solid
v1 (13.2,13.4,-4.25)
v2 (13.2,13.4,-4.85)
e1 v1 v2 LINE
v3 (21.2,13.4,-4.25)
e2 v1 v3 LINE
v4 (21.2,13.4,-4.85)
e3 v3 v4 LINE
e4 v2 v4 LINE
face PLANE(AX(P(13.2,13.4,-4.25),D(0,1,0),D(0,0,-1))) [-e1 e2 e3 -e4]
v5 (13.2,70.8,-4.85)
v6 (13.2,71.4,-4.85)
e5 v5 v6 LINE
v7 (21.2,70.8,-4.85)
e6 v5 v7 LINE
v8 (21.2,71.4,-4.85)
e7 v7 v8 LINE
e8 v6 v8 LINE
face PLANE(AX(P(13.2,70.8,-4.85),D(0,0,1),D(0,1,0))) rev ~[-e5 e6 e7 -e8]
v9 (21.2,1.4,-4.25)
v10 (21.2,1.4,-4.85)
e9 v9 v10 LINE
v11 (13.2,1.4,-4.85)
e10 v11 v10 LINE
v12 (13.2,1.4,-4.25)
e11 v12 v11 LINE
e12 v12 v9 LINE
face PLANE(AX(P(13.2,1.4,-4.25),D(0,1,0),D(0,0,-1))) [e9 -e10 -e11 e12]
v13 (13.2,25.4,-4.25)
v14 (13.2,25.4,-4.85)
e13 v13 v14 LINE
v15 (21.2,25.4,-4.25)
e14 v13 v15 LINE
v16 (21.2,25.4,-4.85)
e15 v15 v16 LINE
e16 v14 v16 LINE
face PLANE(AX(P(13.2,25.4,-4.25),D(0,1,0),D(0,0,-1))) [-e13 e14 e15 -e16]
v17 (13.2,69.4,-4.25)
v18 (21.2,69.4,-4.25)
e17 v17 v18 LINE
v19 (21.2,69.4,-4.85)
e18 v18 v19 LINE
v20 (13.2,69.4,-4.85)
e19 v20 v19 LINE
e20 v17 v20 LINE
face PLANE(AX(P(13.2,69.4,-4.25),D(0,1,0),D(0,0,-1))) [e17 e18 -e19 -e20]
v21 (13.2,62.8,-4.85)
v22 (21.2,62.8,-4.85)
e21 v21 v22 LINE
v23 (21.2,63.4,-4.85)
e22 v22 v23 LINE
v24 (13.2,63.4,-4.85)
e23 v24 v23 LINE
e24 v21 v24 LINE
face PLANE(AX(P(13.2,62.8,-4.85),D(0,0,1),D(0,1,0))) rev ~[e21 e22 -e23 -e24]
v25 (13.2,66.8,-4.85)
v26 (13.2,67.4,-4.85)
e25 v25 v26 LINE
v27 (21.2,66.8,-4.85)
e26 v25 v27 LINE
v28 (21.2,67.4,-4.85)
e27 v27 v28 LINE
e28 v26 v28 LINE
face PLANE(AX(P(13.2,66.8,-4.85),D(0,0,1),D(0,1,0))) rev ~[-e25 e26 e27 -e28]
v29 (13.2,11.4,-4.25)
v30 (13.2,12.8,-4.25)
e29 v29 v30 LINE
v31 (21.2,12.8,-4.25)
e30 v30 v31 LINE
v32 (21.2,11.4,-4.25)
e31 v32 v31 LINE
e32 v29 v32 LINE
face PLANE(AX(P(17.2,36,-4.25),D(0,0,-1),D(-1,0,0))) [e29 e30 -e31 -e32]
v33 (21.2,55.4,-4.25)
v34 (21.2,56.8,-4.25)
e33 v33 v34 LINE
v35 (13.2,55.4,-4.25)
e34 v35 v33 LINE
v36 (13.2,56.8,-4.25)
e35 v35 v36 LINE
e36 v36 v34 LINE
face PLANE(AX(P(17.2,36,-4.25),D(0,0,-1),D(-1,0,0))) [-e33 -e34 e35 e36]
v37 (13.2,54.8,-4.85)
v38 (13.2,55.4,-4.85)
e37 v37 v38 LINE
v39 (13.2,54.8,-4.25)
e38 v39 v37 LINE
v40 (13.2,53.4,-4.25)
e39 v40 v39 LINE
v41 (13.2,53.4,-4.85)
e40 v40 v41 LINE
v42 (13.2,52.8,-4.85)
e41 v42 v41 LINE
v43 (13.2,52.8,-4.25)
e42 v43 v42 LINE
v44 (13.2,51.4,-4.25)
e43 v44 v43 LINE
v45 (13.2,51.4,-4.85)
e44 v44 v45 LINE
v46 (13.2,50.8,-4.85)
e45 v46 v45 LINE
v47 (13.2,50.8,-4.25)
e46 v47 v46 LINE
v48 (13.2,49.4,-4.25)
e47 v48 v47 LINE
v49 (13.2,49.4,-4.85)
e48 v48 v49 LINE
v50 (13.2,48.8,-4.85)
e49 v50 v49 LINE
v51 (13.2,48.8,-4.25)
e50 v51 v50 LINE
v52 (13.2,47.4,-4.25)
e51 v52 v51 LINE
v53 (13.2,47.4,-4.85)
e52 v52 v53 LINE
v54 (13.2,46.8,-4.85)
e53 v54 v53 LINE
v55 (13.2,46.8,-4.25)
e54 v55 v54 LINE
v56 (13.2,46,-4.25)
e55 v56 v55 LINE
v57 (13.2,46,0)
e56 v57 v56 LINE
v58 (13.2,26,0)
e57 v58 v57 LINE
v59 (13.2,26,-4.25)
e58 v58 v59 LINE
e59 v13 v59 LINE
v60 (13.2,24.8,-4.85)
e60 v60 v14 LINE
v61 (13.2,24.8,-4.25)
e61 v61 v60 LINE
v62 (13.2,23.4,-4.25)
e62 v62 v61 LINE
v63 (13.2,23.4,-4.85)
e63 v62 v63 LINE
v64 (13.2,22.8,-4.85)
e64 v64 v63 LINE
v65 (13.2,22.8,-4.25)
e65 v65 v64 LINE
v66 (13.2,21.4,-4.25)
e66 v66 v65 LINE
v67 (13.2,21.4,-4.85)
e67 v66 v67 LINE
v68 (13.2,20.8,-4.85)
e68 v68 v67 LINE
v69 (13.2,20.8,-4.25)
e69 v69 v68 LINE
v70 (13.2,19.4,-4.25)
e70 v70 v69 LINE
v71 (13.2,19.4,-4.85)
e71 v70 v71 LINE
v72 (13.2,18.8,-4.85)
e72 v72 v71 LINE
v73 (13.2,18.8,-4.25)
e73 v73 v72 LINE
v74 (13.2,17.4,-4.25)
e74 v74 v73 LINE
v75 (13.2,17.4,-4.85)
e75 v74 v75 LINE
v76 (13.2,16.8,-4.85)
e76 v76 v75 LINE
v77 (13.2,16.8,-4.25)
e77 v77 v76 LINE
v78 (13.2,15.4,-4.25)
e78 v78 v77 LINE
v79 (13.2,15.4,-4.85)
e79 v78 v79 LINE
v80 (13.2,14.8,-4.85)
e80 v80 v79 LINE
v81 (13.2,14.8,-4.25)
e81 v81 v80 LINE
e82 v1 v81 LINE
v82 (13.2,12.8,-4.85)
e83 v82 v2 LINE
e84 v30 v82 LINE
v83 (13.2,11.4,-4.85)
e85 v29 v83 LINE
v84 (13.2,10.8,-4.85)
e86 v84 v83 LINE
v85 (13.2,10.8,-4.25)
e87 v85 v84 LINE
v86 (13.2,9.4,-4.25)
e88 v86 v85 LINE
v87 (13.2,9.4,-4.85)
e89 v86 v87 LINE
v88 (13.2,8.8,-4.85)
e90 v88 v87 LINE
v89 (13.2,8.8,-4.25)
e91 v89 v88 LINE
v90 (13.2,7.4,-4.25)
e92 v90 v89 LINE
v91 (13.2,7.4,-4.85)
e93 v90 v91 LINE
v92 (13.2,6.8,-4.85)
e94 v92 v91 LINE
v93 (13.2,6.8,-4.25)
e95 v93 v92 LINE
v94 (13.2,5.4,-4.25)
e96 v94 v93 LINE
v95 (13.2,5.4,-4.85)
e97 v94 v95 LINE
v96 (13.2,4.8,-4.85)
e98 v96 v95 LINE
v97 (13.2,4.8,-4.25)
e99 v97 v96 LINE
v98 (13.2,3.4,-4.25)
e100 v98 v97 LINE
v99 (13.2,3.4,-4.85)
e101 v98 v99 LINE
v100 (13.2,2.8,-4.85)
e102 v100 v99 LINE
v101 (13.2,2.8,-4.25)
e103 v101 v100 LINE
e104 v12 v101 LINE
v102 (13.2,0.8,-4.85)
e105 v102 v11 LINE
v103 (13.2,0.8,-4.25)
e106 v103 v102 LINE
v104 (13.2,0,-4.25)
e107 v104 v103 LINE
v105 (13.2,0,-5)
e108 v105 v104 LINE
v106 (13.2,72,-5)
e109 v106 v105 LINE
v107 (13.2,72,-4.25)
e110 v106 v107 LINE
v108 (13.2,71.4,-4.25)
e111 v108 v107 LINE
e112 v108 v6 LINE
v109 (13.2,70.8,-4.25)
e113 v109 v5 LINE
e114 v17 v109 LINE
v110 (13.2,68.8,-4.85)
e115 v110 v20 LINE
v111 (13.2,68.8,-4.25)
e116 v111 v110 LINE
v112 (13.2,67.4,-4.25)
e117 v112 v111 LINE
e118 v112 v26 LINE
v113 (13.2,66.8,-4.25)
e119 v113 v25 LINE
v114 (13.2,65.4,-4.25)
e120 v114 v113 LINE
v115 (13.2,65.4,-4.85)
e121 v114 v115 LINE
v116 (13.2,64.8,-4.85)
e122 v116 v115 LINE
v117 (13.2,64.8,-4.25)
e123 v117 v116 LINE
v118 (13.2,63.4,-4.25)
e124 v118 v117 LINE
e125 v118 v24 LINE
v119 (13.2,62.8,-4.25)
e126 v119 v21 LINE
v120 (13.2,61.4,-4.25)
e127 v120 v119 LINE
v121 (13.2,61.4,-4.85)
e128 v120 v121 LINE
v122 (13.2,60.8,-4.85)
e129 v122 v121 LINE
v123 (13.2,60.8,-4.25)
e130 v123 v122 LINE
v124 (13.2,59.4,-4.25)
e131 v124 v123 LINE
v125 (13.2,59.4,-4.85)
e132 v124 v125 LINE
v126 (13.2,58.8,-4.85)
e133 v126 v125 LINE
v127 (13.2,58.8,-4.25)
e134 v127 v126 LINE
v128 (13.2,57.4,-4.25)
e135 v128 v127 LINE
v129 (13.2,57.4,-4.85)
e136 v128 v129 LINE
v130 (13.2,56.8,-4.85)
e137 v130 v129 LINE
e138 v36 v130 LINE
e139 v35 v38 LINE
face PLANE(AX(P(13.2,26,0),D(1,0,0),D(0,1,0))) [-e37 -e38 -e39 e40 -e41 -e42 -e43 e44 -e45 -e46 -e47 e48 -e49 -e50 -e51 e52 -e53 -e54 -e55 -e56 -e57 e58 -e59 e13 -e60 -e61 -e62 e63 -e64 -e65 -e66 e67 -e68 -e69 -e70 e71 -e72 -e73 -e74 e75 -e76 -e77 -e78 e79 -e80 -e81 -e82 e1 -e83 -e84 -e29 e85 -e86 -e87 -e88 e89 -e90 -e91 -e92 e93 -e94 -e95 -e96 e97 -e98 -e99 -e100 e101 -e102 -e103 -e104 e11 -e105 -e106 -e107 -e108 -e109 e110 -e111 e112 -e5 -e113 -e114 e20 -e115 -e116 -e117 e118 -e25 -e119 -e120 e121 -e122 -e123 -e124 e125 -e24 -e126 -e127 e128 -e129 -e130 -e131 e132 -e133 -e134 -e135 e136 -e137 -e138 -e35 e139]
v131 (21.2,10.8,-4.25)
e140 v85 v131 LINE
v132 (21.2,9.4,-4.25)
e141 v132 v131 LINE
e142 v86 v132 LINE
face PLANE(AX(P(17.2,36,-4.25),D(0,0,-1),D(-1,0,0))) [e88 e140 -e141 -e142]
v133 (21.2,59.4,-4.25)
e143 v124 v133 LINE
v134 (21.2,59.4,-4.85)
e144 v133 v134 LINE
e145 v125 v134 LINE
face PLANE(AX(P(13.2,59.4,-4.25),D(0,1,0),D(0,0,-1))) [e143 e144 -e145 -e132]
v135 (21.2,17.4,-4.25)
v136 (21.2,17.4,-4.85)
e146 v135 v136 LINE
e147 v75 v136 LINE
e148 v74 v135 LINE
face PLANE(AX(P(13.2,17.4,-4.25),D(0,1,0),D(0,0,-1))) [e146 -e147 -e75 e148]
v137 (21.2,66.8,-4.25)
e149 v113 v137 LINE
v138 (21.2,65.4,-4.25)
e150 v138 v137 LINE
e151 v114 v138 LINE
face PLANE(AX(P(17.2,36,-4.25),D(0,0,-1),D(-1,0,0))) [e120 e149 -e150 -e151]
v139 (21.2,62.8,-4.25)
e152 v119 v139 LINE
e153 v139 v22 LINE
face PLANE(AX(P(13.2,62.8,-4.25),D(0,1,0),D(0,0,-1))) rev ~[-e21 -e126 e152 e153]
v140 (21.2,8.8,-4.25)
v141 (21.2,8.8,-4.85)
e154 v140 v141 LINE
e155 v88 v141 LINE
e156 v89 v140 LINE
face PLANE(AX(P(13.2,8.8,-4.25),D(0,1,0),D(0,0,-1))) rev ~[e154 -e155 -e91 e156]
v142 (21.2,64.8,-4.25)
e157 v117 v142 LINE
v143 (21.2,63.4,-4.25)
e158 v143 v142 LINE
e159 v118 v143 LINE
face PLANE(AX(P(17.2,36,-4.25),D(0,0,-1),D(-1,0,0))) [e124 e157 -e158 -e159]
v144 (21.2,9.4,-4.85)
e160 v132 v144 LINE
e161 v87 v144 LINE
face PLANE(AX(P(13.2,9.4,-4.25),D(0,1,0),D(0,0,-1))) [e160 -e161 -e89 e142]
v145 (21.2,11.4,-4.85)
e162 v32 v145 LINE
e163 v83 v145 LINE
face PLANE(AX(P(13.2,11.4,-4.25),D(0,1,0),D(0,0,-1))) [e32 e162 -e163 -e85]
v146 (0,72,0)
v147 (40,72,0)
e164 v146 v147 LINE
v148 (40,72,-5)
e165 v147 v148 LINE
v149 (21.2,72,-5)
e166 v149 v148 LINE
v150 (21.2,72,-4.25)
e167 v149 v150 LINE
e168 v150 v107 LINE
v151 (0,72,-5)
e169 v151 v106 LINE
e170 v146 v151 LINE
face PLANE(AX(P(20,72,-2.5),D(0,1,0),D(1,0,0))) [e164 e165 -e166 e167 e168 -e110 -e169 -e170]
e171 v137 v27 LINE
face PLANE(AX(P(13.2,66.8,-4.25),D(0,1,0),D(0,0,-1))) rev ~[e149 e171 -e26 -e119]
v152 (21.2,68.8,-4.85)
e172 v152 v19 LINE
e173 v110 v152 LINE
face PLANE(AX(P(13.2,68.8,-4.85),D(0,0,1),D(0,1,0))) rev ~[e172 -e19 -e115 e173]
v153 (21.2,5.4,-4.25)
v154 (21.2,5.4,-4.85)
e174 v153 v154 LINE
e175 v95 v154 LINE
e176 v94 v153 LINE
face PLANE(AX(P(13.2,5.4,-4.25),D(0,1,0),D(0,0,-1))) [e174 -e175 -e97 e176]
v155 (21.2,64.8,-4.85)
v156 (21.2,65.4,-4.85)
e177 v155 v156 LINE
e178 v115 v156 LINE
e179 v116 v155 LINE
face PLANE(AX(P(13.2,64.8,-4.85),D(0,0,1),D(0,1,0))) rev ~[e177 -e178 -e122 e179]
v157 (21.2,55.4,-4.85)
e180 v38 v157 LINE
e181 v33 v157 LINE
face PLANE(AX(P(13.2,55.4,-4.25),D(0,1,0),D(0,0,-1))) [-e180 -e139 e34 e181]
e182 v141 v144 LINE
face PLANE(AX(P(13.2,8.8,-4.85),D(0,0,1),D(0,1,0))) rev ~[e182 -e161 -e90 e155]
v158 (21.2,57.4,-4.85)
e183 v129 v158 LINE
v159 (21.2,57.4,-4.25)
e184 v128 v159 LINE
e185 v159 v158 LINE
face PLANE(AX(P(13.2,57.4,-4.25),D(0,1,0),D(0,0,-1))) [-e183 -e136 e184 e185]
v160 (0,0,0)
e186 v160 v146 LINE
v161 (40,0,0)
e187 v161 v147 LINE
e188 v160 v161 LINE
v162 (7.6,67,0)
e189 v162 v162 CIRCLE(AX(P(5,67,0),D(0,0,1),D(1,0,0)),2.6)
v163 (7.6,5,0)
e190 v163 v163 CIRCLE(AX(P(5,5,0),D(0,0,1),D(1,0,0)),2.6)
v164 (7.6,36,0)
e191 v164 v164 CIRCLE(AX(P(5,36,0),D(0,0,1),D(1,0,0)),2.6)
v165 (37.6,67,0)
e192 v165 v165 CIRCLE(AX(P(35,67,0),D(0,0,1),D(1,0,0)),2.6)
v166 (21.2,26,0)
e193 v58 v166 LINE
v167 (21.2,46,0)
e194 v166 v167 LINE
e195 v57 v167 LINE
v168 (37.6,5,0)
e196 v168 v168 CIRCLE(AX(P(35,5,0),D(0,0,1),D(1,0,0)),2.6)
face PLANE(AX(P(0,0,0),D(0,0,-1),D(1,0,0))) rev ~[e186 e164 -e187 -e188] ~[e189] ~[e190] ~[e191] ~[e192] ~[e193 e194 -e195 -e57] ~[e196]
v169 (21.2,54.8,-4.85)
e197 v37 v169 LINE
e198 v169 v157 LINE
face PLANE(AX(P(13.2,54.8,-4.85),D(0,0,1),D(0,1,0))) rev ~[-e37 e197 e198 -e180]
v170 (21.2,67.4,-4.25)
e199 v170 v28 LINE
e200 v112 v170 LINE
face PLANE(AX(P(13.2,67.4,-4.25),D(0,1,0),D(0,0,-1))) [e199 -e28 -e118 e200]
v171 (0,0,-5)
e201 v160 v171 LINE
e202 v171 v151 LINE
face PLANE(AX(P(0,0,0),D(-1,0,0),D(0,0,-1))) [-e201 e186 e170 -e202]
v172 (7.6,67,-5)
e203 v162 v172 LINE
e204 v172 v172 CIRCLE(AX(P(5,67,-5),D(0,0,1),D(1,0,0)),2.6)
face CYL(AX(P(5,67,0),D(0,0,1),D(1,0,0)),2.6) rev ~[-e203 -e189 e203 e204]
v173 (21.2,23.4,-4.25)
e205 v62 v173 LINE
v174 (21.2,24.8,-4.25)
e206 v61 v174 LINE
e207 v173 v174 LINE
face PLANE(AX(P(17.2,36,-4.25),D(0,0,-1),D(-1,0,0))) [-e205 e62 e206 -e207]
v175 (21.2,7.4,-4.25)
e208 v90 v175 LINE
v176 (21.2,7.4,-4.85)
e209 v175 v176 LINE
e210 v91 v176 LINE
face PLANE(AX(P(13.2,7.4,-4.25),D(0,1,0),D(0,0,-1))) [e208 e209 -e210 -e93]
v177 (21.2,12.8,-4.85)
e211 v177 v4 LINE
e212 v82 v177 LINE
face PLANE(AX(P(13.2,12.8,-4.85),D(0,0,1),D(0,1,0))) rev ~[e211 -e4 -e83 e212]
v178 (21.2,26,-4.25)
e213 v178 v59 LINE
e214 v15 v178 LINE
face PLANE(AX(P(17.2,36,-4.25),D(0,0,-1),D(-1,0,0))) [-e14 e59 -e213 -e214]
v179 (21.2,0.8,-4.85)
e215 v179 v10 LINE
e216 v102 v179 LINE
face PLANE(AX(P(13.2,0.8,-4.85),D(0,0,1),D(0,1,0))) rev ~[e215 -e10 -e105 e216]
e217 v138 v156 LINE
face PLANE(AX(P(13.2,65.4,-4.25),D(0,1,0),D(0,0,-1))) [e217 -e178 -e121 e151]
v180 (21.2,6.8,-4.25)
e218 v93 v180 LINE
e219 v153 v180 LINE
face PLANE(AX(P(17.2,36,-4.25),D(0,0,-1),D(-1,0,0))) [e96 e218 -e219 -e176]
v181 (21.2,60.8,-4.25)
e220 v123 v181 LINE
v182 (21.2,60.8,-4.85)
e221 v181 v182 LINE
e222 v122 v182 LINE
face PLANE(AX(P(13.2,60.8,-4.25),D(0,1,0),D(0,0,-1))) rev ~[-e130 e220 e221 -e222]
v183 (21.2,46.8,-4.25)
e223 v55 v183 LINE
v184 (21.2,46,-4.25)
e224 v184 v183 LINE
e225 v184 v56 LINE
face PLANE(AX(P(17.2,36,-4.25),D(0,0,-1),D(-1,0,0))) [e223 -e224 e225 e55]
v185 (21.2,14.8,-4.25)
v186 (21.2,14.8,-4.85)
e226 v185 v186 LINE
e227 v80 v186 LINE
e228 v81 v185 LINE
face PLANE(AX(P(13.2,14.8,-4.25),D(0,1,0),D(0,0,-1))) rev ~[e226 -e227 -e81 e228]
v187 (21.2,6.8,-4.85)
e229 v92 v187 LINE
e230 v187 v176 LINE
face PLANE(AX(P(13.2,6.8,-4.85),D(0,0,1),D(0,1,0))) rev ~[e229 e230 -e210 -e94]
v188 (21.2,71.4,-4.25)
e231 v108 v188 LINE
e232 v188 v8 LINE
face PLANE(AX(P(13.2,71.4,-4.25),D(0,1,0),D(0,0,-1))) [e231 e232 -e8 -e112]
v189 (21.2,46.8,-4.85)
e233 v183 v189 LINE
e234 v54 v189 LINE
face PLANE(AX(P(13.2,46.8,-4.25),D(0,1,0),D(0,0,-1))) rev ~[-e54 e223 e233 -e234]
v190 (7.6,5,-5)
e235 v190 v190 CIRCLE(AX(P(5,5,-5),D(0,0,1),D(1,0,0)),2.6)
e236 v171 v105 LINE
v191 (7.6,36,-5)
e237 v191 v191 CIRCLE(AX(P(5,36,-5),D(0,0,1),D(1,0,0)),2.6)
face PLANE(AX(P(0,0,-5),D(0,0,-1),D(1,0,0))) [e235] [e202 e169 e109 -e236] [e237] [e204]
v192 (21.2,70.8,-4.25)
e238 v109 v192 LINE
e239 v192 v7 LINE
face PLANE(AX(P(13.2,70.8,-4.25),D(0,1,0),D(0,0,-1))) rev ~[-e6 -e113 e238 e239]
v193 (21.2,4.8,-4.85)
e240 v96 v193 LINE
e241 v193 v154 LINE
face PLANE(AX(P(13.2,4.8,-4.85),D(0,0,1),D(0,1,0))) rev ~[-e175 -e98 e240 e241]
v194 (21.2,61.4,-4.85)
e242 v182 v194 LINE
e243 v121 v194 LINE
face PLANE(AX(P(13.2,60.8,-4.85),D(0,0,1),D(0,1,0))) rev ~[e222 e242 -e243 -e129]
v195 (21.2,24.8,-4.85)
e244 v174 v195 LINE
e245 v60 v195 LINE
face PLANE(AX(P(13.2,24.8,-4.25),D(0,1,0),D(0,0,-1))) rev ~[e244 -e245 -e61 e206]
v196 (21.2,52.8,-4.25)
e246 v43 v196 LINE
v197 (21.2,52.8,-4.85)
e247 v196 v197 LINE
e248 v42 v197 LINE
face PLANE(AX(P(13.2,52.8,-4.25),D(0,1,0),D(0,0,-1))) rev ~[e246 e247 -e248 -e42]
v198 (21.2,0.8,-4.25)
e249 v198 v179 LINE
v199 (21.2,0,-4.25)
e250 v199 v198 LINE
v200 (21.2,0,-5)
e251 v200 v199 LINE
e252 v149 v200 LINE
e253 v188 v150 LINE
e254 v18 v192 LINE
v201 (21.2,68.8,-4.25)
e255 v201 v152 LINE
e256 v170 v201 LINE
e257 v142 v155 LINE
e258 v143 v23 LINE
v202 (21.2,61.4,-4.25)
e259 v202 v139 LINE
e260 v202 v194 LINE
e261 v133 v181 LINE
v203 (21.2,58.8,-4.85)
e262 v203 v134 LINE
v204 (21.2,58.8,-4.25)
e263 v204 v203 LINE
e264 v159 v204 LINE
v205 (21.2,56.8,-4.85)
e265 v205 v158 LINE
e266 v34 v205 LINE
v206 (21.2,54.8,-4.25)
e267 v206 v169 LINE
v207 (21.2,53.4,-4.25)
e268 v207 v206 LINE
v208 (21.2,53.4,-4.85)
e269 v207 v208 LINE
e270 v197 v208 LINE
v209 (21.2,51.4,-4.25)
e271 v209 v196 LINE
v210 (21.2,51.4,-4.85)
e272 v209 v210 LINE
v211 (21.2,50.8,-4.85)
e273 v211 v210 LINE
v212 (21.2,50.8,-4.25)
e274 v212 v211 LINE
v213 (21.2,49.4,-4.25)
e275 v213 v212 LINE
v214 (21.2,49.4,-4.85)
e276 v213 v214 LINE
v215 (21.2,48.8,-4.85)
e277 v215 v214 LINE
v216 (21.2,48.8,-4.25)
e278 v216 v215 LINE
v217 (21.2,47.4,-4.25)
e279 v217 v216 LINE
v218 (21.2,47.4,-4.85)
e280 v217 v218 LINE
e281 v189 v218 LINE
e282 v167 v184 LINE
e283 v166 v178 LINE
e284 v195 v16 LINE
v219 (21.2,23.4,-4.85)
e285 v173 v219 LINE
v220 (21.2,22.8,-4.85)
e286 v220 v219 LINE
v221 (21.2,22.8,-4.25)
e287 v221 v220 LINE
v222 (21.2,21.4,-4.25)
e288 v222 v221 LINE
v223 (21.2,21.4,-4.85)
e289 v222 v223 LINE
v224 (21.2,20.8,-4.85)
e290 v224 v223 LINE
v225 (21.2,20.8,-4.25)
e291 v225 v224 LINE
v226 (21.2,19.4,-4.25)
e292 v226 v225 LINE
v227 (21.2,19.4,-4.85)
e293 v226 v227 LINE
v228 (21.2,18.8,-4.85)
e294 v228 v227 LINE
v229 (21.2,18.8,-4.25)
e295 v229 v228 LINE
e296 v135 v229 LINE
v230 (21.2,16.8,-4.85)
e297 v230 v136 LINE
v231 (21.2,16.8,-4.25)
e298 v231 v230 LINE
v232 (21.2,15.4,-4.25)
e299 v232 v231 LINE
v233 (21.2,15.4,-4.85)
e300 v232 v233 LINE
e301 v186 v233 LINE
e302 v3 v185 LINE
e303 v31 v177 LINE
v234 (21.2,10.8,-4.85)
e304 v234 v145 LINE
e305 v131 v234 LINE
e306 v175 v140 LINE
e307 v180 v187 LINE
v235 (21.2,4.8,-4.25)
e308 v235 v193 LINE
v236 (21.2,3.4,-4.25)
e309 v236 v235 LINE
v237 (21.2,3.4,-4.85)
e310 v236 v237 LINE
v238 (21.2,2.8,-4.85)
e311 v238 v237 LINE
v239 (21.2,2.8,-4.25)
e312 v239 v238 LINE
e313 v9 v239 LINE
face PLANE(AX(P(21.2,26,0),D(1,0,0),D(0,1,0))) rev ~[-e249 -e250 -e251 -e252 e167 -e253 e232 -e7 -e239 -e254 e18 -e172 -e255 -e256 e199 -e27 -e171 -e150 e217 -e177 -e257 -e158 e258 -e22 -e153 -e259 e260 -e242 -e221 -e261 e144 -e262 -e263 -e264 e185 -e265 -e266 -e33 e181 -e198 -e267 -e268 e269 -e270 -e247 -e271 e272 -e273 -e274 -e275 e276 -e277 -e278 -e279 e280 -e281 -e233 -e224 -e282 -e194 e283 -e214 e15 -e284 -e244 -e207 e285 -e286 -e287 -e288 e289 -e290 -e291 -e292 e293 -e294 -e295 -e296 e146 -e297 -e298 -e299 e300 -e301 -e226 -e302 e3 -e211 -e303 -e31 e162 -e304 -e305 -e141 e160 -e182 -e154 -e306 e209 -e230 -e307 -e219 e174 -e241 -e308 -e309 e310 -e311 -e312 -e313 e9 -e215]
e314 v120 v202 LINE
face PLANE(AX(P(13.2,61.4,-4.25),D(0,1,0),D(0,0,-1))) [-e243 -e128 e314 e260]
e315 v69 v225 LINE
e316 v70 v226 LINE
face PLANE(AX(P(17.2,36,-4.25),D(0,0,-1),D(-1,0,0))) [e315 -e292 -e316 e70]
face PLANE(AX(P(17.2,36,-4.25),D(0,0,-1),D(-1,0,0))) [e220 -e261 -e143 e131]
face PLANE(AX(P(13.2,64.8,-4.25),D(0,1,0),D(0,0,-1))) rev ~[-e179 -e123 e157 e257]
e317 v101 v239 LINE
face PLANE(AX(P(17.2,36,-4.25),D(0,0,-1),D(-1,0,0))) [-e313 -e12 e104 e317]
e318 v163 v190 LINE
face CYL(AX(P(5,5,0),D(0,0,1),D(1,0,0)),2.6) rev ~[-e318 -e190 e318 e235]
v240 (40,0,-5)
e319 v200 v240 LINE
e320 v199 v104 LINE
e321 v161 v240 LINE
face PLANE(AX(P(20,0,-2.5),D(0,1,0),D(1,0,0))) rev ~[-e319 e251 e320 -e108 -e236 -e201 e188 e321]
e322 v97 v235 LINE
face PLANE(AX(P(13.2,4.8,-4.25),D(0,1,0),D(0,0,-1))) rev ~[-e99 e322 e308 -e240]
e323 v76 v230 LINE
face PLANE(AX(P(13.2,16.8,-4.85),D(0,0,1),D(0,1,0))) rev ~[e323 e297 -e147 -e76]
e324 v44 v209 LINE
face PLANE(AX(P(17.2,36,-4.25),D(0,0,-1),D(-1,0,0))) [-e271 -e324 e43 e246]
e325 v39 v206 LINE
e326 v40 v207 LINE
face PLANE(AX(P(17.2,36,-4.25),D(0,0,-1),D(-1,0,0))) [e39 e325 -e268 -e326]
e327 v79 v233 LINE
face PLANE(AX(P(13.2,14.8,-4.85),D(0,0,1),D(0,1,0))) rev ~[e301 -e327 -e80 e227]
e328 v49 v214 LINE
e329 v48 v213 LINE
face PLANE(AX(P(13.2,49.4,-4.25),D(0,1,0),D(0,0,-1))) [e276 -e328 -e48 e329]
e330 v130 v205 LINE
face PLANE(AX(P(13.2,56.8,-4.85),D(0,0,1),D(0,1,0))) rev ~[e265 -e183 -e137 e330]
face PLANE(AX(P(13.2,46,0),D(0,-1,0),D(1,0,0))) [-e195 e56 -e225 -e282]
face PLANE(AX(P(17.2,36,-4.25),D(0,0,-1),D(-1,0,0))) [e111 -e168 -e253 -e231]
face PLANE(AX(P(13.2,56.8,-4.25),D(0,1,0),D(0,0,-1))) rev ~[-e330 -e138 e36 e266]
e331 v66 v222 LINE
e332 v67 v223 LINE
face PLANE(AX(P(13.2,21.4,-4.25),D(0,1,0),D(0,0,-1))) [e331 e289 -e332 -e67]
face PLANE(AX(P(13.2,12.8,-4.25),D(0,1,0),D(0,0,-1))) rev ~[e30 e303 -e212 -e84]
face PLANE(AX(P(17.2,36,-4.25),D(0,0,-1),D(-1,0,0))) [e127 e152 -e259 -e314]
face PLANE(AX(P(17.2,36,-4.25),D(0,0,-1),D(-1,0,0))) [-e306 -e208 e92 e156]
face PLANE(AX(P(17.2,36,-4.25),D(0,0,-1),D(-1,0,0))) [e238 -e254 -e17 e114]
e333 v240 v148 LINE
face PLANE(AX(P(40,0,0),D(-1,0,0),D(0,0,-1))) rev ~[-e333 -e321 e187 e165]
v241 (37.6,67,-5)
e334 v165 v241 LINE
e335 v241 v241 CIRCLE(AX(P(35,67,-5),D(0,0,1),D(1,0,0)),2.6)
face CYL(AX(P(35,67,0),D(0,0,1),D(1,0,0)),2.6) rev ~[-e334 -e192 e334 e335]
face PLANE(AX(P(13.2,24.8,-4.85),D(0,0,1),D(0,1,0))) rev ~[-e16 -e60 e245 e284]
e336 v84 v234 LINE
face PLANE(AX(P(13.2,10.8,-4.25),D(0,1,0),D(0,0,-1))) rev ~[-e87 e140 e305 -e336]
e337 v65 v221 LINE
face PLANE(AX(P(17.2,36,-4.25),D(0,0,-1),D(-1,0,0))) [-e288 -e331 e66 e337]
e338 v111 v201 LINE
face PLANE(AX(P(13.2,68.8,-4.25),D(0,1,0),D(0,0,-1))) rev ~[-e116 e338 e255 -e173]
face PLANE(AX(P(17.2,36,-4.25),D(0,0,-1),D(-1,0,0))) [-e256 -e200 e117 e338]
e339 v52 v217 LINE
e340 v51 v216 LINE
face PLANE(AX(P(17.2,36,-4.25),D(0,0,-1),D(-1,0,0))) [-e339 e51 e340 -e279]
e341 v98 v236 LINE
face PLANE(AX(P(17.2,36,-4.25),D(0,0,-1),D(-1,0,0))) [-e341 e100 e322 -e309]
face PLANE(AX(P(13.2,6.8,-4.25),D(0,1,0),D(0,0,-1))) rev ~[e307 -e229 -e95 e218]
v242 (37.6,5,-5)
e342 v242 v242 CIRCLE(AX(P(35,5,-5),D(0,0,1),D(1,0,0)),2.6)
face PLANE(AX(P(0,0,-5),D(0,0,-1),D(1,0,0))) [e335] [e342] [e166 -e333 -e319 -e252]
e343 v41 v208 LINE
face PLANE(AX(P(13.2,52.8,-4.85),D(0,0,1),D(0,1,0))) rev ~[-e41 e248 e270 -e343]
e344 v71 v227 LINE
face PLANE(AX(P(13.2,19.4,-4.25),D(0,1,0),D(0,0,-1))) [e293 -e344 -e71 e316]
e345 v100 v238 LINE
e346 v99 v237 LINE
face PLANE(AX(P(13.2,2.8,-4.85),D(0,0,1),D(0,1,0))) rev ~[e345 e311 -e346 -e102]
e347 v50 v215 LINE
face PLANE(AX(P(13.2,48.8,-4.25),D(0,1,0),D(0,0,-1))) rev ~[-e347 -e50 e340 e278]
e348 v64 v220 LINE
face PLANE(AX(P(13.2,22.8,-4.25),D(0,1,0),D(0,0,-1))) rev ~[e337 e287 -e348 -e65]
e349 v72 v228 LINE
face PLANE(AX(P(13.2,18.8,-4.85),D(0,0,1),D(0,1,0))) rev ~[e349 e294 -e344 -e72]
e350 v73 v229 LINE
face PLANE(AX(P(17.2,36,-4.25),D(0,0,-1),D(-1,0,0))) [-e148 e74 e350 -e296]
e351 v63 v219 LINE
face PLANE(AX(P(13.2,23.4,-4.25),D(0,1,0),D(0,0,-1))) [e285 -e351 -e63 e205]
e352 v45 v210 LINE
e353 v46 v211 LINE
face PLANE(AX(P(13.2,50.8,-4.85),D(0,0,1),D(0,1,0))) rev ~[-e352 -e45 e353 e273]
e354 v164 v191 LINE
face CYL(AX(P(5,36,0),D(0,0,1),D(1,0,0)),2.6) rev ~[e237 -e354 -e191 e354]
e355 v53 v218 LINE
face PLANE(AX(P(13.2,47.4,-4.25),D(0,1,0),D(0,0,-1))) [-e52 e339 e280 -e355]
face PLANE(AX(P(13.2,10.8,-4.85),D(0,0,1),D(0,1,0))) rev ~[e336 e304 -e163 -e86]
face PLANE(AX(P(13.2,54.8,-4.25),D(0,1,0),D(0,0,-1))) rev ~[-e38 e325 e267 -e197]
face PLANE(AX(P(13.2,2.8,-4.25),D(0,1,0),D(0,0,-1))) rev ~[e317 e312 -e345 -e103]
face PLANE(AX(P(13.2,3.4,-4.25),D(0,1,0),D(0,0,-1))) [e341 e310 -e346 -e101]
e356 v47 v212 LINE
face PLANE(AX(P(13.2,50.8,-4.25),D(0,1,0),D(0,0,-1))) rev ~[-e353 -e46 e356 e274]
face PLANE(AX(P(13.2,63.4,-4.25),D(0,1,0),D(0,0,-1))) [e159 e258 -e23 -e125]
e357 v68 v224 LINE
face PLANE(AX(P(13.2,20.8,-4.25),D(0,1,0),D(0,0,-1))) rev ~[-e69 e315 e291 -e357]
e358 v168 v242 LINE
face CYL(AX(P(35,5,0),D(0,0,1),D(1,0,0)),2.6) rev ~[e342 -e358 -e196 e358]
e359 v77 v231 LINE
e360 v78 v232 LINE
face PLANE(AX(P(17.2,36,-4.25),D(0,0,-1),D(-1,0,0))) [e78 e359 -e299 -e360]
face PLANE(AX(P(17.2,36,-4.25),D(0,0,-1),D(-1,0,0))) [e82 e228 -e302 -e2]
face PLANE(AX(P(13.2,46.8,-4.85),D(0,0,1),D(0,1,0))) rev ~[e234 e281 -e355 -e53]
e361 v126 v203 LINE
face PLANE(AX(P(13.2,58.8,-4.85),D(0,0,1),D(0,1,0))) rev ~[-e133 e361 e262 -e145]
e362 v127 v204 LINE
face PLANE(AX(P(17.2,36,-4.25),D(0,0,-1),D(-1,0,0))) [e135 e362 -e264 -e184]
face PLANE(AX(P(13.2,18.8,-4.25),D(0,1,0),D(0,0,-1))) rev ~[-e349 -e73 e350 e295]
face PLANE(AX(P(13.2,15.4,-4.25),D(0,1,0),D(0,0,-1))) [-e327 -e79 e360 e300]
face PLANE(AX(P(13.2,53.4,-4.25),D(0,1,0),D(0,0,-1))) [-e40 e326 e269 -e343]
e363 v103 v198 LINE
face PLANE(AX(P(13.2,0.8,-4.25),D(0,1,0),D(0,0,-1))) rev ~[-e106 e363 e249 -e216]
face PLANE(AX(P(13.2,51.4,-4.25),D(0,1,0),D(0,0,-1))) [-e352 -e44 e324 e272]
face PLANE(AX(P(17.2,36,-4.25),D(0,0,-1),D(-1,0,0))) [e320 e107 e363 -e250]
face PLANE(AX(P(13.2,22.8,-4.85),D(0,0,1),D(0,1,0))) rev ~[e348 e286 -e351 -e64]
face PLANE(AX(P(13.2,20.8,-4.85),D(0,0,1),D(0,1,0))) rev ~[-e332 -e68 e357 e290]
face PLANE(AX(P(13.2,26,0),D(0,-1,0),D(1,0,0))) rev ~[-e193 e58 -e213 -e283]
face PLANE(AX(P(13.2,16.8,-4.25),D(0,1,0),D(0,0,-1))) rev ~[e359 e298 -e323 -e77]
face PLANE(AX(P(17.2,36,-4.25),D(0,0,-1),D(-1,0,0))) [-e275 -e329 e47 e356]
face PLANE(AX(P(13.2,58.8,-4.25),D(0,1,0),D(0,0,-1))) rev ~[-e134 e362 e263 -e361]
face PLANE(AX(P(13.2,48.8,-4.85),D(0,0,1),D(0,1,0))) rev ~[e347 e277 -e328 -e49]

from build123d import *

# Parameters (mm, degrees)
SKETCH1_W           = 40
SKETCH1_H           = 5
BOSS_EXTRUDE1_DEPTH = 72
SKETCH2_W           = 8
SKETCH2_H           = 72
CUT_EXTRUDE1_DEPTH  = 0.75
SKETCH3_W           = 0.6
SKETCH3_H           = 0.6
BOSS_EXTRUDE2_DEPTH = 8
SKETCH4_R           = 2.6
CUT_EXTRUDE2_DEPTH  = 83.516664984
SKETCH5_W           = 8
SKETCH5_H           = 20
CUT_EXTRUDE3_DEPTH  = 83.516664984


with BuildPart() as part:
    # Sketch1 → Boss-Extrude1 (new body)
    with BuildSketch(Plane(origin=(0, 0, 0), x_dir=(1, 0, 0), z_dir=(0, 1, 0))):
        with Locations((20, 2.5)):
            Rectangle(SKETCH1_W, SKETCH1_H)
    extrude(amount=BOSS_EXTRUDE1_DEPTH)

    # Sketch2 → Cut-Extrude1 (cut)
    with BuildSketch(Plane(origin=(0, 0, -5), x_dir=(-1, 0, 0), z_dir=(0, 0, -1))):
        with Locations((-17.2, 36)):
            Rectangle(SKETCH2_W, SKETCH2_H)
    extrude(amount=-CUT_EXTRUDE1_DEPTH, mode=Mode.SUBTRACT)

    # Sketch3 → Boss-Extrude2 (add)
    with BuildSketch(Plane(origin=(13.2, 0, 0), x_dir=(0, 0, -1), z_dir=(1, 0, 0))):
        with Locations((4.55, 71.1)):
            Rectangle(SKETCH3_W, SKETCH3_H)
        with Locations((4.55, 69.1)):
            Rectangle(SKETCH3_W, SKETCH3_H)
        with Locations((4.55, 67.1)):
            Rectangle(SKETCH3_W, SKETCH3_H)
        with Locations((4.55, 65.1)):
            Rectangle(SKETCH3_W, SKETCH3_H)
        with Locations((4.55, 63.1)):
            Rectangle(SKETCH3_W, SKETCH3_H)
        with Locations((4.55, 61.1)):
            Rectangle(SKETCH3_W, SKETCH3_H)
        with Locations((4.55, 59.1)):
            Rectangle(SKETCH3_W, SKETCH3_H)
        with Locations((4.55, 57.1)):
            Rectangle(SKETCH3_W, SKETCH3_H)
        with Locations((4.55, 55.1)):
            Rectangle(SKETCH3_W, SKETCH3_H)
        with Locations((4.55, 53.1)):
            Rectangle(SKETCH3_W, SKETCH3_H)
        with Locations((4.55, 51.1)):
            Rectangle(SKETCH3_W, SKETCH3_H)
        with Locations((4.55, 49.1)):
            Rectangle(SKETCH3_W, SKETCH3_H)
        with Locations((4.55, 47.1)):
            Rectangle(SKETCH3_W, SKETCH3_H)
        with Locations((4.55, 45.1)):
            Rectangle(SKETCH3_W, SKETCH3_H)
        with Locations((4.55, 43.1)):
            Rectangle(SKETCH3_W, SKETCH3_H)
        with Locations((4.55, 41.1)):
            Rectangle(SKETCH3_W, SKETCH3_H)
        with Locations((4.55, 39.1)):
            Rectangle(SKETCH3_W, SKETCH3_H)
        with Locations((4.55, 37.1)):
            Rectangle(SKETCH3_W, SKETCH3_H)
        with Locations((4.55, 35.1)):
            Rectangle(SKETCH3_W, SKETCH3_H)
        with Locations((4.55, 33.1)):
            Rectangle(SKETCH3_W, SKETCH3_H)
        with Locations((4.55, 31.1)):
            Rectangle(SKETCH3_W, SKETCH3_H)
        with Locations((4.55, 29.1)):
            Rectangle(SKETCH3_W, SKETCH3_H)
        with Locations((4.55, 27.1)):
            Rectangle(SKETCH3_W, SKETCH3_H)
        with Locations((4.55, 25.1)):
            Rectangle(SKETCH3_W, SKETCH3_H)
        with Locations((4.55, 23.1)):
            Rectangle(SKETCH3_W, SKETCH3_H)
        with Locations((4.55, 21.1)):
            Rectangle(SKETCH3_W, SKETCH3_H)
        with Locations((4.55, 19.1)):
            Rectangle(SKETCH3_W, SKETCH3_H)
        with Locations((4.55, 17.1)):
            Rectangle(SKETCH3_W, SKETCH3_H)
        with Locations((4.55, 15.1)):
            Rectangle(SKETCH3_W, SKETCH3_H)
        with Locations((4.55, 13.1)):
            Rectangle(SKETCH3_W, SKETCH3_H)
        with Locations((4.55, 11.1)):
            Rectangle(SKETCH3_W, SKETCH3_H)
        with Locations((4.55, 9.1)):
            Rectangle(SKETCH3_W, SKETCH3_H)
        with Locations((4.55, 7.1)):
            Rectangle(SKETCH3_W, SKETCH3_H)
        with Locations((4.55, 5.1)):
            Rectangle(SKETCH3_W, SKETCH3_H)
        with Locations((4.55, 3.1)):
            Rectangle(SKETCH3_W, SKETCH3_H)
        with Locations((4.55, 1.1)):
            Rectangle(SKETCH3_W, SKETCH3_H)
    extrude(amount=BOSS_EXTRUDE2_DEPTH)

    # Sketch4 → Cut-Extrude2 (cut, through all)
    with BuildSketch(Plane.XY):
        with Locations((5, 67)):
            Circle(SKETCH4_R)
        with Locations((35, 67)):
            Circle(SKETCH4_R)
        with Locations((5, 5)):
            Circle(SKETCH4_R)
        with Locations((35, 5)):
            Circle(SKETCH4_R)
        with Locations((5, 36)):
            Circle(SKETCH4_R)
    extrude(amount=-CUT_EXTRUDE2_DEPTH, mode=Mode.SUBTRACT)

    # Sketch5 → Cut-Extrude3 (cut, through all)
    with BuildSketch(Plane.XY):
        with Locations((17.2, 36)):
            Rectangle(SKETCH5_W, SKETCH5_H)
    extrude(amount=-CUT_EXTRUDE3_DEPTH, mode=Mode.SUBTRACT)


solid = part.part
